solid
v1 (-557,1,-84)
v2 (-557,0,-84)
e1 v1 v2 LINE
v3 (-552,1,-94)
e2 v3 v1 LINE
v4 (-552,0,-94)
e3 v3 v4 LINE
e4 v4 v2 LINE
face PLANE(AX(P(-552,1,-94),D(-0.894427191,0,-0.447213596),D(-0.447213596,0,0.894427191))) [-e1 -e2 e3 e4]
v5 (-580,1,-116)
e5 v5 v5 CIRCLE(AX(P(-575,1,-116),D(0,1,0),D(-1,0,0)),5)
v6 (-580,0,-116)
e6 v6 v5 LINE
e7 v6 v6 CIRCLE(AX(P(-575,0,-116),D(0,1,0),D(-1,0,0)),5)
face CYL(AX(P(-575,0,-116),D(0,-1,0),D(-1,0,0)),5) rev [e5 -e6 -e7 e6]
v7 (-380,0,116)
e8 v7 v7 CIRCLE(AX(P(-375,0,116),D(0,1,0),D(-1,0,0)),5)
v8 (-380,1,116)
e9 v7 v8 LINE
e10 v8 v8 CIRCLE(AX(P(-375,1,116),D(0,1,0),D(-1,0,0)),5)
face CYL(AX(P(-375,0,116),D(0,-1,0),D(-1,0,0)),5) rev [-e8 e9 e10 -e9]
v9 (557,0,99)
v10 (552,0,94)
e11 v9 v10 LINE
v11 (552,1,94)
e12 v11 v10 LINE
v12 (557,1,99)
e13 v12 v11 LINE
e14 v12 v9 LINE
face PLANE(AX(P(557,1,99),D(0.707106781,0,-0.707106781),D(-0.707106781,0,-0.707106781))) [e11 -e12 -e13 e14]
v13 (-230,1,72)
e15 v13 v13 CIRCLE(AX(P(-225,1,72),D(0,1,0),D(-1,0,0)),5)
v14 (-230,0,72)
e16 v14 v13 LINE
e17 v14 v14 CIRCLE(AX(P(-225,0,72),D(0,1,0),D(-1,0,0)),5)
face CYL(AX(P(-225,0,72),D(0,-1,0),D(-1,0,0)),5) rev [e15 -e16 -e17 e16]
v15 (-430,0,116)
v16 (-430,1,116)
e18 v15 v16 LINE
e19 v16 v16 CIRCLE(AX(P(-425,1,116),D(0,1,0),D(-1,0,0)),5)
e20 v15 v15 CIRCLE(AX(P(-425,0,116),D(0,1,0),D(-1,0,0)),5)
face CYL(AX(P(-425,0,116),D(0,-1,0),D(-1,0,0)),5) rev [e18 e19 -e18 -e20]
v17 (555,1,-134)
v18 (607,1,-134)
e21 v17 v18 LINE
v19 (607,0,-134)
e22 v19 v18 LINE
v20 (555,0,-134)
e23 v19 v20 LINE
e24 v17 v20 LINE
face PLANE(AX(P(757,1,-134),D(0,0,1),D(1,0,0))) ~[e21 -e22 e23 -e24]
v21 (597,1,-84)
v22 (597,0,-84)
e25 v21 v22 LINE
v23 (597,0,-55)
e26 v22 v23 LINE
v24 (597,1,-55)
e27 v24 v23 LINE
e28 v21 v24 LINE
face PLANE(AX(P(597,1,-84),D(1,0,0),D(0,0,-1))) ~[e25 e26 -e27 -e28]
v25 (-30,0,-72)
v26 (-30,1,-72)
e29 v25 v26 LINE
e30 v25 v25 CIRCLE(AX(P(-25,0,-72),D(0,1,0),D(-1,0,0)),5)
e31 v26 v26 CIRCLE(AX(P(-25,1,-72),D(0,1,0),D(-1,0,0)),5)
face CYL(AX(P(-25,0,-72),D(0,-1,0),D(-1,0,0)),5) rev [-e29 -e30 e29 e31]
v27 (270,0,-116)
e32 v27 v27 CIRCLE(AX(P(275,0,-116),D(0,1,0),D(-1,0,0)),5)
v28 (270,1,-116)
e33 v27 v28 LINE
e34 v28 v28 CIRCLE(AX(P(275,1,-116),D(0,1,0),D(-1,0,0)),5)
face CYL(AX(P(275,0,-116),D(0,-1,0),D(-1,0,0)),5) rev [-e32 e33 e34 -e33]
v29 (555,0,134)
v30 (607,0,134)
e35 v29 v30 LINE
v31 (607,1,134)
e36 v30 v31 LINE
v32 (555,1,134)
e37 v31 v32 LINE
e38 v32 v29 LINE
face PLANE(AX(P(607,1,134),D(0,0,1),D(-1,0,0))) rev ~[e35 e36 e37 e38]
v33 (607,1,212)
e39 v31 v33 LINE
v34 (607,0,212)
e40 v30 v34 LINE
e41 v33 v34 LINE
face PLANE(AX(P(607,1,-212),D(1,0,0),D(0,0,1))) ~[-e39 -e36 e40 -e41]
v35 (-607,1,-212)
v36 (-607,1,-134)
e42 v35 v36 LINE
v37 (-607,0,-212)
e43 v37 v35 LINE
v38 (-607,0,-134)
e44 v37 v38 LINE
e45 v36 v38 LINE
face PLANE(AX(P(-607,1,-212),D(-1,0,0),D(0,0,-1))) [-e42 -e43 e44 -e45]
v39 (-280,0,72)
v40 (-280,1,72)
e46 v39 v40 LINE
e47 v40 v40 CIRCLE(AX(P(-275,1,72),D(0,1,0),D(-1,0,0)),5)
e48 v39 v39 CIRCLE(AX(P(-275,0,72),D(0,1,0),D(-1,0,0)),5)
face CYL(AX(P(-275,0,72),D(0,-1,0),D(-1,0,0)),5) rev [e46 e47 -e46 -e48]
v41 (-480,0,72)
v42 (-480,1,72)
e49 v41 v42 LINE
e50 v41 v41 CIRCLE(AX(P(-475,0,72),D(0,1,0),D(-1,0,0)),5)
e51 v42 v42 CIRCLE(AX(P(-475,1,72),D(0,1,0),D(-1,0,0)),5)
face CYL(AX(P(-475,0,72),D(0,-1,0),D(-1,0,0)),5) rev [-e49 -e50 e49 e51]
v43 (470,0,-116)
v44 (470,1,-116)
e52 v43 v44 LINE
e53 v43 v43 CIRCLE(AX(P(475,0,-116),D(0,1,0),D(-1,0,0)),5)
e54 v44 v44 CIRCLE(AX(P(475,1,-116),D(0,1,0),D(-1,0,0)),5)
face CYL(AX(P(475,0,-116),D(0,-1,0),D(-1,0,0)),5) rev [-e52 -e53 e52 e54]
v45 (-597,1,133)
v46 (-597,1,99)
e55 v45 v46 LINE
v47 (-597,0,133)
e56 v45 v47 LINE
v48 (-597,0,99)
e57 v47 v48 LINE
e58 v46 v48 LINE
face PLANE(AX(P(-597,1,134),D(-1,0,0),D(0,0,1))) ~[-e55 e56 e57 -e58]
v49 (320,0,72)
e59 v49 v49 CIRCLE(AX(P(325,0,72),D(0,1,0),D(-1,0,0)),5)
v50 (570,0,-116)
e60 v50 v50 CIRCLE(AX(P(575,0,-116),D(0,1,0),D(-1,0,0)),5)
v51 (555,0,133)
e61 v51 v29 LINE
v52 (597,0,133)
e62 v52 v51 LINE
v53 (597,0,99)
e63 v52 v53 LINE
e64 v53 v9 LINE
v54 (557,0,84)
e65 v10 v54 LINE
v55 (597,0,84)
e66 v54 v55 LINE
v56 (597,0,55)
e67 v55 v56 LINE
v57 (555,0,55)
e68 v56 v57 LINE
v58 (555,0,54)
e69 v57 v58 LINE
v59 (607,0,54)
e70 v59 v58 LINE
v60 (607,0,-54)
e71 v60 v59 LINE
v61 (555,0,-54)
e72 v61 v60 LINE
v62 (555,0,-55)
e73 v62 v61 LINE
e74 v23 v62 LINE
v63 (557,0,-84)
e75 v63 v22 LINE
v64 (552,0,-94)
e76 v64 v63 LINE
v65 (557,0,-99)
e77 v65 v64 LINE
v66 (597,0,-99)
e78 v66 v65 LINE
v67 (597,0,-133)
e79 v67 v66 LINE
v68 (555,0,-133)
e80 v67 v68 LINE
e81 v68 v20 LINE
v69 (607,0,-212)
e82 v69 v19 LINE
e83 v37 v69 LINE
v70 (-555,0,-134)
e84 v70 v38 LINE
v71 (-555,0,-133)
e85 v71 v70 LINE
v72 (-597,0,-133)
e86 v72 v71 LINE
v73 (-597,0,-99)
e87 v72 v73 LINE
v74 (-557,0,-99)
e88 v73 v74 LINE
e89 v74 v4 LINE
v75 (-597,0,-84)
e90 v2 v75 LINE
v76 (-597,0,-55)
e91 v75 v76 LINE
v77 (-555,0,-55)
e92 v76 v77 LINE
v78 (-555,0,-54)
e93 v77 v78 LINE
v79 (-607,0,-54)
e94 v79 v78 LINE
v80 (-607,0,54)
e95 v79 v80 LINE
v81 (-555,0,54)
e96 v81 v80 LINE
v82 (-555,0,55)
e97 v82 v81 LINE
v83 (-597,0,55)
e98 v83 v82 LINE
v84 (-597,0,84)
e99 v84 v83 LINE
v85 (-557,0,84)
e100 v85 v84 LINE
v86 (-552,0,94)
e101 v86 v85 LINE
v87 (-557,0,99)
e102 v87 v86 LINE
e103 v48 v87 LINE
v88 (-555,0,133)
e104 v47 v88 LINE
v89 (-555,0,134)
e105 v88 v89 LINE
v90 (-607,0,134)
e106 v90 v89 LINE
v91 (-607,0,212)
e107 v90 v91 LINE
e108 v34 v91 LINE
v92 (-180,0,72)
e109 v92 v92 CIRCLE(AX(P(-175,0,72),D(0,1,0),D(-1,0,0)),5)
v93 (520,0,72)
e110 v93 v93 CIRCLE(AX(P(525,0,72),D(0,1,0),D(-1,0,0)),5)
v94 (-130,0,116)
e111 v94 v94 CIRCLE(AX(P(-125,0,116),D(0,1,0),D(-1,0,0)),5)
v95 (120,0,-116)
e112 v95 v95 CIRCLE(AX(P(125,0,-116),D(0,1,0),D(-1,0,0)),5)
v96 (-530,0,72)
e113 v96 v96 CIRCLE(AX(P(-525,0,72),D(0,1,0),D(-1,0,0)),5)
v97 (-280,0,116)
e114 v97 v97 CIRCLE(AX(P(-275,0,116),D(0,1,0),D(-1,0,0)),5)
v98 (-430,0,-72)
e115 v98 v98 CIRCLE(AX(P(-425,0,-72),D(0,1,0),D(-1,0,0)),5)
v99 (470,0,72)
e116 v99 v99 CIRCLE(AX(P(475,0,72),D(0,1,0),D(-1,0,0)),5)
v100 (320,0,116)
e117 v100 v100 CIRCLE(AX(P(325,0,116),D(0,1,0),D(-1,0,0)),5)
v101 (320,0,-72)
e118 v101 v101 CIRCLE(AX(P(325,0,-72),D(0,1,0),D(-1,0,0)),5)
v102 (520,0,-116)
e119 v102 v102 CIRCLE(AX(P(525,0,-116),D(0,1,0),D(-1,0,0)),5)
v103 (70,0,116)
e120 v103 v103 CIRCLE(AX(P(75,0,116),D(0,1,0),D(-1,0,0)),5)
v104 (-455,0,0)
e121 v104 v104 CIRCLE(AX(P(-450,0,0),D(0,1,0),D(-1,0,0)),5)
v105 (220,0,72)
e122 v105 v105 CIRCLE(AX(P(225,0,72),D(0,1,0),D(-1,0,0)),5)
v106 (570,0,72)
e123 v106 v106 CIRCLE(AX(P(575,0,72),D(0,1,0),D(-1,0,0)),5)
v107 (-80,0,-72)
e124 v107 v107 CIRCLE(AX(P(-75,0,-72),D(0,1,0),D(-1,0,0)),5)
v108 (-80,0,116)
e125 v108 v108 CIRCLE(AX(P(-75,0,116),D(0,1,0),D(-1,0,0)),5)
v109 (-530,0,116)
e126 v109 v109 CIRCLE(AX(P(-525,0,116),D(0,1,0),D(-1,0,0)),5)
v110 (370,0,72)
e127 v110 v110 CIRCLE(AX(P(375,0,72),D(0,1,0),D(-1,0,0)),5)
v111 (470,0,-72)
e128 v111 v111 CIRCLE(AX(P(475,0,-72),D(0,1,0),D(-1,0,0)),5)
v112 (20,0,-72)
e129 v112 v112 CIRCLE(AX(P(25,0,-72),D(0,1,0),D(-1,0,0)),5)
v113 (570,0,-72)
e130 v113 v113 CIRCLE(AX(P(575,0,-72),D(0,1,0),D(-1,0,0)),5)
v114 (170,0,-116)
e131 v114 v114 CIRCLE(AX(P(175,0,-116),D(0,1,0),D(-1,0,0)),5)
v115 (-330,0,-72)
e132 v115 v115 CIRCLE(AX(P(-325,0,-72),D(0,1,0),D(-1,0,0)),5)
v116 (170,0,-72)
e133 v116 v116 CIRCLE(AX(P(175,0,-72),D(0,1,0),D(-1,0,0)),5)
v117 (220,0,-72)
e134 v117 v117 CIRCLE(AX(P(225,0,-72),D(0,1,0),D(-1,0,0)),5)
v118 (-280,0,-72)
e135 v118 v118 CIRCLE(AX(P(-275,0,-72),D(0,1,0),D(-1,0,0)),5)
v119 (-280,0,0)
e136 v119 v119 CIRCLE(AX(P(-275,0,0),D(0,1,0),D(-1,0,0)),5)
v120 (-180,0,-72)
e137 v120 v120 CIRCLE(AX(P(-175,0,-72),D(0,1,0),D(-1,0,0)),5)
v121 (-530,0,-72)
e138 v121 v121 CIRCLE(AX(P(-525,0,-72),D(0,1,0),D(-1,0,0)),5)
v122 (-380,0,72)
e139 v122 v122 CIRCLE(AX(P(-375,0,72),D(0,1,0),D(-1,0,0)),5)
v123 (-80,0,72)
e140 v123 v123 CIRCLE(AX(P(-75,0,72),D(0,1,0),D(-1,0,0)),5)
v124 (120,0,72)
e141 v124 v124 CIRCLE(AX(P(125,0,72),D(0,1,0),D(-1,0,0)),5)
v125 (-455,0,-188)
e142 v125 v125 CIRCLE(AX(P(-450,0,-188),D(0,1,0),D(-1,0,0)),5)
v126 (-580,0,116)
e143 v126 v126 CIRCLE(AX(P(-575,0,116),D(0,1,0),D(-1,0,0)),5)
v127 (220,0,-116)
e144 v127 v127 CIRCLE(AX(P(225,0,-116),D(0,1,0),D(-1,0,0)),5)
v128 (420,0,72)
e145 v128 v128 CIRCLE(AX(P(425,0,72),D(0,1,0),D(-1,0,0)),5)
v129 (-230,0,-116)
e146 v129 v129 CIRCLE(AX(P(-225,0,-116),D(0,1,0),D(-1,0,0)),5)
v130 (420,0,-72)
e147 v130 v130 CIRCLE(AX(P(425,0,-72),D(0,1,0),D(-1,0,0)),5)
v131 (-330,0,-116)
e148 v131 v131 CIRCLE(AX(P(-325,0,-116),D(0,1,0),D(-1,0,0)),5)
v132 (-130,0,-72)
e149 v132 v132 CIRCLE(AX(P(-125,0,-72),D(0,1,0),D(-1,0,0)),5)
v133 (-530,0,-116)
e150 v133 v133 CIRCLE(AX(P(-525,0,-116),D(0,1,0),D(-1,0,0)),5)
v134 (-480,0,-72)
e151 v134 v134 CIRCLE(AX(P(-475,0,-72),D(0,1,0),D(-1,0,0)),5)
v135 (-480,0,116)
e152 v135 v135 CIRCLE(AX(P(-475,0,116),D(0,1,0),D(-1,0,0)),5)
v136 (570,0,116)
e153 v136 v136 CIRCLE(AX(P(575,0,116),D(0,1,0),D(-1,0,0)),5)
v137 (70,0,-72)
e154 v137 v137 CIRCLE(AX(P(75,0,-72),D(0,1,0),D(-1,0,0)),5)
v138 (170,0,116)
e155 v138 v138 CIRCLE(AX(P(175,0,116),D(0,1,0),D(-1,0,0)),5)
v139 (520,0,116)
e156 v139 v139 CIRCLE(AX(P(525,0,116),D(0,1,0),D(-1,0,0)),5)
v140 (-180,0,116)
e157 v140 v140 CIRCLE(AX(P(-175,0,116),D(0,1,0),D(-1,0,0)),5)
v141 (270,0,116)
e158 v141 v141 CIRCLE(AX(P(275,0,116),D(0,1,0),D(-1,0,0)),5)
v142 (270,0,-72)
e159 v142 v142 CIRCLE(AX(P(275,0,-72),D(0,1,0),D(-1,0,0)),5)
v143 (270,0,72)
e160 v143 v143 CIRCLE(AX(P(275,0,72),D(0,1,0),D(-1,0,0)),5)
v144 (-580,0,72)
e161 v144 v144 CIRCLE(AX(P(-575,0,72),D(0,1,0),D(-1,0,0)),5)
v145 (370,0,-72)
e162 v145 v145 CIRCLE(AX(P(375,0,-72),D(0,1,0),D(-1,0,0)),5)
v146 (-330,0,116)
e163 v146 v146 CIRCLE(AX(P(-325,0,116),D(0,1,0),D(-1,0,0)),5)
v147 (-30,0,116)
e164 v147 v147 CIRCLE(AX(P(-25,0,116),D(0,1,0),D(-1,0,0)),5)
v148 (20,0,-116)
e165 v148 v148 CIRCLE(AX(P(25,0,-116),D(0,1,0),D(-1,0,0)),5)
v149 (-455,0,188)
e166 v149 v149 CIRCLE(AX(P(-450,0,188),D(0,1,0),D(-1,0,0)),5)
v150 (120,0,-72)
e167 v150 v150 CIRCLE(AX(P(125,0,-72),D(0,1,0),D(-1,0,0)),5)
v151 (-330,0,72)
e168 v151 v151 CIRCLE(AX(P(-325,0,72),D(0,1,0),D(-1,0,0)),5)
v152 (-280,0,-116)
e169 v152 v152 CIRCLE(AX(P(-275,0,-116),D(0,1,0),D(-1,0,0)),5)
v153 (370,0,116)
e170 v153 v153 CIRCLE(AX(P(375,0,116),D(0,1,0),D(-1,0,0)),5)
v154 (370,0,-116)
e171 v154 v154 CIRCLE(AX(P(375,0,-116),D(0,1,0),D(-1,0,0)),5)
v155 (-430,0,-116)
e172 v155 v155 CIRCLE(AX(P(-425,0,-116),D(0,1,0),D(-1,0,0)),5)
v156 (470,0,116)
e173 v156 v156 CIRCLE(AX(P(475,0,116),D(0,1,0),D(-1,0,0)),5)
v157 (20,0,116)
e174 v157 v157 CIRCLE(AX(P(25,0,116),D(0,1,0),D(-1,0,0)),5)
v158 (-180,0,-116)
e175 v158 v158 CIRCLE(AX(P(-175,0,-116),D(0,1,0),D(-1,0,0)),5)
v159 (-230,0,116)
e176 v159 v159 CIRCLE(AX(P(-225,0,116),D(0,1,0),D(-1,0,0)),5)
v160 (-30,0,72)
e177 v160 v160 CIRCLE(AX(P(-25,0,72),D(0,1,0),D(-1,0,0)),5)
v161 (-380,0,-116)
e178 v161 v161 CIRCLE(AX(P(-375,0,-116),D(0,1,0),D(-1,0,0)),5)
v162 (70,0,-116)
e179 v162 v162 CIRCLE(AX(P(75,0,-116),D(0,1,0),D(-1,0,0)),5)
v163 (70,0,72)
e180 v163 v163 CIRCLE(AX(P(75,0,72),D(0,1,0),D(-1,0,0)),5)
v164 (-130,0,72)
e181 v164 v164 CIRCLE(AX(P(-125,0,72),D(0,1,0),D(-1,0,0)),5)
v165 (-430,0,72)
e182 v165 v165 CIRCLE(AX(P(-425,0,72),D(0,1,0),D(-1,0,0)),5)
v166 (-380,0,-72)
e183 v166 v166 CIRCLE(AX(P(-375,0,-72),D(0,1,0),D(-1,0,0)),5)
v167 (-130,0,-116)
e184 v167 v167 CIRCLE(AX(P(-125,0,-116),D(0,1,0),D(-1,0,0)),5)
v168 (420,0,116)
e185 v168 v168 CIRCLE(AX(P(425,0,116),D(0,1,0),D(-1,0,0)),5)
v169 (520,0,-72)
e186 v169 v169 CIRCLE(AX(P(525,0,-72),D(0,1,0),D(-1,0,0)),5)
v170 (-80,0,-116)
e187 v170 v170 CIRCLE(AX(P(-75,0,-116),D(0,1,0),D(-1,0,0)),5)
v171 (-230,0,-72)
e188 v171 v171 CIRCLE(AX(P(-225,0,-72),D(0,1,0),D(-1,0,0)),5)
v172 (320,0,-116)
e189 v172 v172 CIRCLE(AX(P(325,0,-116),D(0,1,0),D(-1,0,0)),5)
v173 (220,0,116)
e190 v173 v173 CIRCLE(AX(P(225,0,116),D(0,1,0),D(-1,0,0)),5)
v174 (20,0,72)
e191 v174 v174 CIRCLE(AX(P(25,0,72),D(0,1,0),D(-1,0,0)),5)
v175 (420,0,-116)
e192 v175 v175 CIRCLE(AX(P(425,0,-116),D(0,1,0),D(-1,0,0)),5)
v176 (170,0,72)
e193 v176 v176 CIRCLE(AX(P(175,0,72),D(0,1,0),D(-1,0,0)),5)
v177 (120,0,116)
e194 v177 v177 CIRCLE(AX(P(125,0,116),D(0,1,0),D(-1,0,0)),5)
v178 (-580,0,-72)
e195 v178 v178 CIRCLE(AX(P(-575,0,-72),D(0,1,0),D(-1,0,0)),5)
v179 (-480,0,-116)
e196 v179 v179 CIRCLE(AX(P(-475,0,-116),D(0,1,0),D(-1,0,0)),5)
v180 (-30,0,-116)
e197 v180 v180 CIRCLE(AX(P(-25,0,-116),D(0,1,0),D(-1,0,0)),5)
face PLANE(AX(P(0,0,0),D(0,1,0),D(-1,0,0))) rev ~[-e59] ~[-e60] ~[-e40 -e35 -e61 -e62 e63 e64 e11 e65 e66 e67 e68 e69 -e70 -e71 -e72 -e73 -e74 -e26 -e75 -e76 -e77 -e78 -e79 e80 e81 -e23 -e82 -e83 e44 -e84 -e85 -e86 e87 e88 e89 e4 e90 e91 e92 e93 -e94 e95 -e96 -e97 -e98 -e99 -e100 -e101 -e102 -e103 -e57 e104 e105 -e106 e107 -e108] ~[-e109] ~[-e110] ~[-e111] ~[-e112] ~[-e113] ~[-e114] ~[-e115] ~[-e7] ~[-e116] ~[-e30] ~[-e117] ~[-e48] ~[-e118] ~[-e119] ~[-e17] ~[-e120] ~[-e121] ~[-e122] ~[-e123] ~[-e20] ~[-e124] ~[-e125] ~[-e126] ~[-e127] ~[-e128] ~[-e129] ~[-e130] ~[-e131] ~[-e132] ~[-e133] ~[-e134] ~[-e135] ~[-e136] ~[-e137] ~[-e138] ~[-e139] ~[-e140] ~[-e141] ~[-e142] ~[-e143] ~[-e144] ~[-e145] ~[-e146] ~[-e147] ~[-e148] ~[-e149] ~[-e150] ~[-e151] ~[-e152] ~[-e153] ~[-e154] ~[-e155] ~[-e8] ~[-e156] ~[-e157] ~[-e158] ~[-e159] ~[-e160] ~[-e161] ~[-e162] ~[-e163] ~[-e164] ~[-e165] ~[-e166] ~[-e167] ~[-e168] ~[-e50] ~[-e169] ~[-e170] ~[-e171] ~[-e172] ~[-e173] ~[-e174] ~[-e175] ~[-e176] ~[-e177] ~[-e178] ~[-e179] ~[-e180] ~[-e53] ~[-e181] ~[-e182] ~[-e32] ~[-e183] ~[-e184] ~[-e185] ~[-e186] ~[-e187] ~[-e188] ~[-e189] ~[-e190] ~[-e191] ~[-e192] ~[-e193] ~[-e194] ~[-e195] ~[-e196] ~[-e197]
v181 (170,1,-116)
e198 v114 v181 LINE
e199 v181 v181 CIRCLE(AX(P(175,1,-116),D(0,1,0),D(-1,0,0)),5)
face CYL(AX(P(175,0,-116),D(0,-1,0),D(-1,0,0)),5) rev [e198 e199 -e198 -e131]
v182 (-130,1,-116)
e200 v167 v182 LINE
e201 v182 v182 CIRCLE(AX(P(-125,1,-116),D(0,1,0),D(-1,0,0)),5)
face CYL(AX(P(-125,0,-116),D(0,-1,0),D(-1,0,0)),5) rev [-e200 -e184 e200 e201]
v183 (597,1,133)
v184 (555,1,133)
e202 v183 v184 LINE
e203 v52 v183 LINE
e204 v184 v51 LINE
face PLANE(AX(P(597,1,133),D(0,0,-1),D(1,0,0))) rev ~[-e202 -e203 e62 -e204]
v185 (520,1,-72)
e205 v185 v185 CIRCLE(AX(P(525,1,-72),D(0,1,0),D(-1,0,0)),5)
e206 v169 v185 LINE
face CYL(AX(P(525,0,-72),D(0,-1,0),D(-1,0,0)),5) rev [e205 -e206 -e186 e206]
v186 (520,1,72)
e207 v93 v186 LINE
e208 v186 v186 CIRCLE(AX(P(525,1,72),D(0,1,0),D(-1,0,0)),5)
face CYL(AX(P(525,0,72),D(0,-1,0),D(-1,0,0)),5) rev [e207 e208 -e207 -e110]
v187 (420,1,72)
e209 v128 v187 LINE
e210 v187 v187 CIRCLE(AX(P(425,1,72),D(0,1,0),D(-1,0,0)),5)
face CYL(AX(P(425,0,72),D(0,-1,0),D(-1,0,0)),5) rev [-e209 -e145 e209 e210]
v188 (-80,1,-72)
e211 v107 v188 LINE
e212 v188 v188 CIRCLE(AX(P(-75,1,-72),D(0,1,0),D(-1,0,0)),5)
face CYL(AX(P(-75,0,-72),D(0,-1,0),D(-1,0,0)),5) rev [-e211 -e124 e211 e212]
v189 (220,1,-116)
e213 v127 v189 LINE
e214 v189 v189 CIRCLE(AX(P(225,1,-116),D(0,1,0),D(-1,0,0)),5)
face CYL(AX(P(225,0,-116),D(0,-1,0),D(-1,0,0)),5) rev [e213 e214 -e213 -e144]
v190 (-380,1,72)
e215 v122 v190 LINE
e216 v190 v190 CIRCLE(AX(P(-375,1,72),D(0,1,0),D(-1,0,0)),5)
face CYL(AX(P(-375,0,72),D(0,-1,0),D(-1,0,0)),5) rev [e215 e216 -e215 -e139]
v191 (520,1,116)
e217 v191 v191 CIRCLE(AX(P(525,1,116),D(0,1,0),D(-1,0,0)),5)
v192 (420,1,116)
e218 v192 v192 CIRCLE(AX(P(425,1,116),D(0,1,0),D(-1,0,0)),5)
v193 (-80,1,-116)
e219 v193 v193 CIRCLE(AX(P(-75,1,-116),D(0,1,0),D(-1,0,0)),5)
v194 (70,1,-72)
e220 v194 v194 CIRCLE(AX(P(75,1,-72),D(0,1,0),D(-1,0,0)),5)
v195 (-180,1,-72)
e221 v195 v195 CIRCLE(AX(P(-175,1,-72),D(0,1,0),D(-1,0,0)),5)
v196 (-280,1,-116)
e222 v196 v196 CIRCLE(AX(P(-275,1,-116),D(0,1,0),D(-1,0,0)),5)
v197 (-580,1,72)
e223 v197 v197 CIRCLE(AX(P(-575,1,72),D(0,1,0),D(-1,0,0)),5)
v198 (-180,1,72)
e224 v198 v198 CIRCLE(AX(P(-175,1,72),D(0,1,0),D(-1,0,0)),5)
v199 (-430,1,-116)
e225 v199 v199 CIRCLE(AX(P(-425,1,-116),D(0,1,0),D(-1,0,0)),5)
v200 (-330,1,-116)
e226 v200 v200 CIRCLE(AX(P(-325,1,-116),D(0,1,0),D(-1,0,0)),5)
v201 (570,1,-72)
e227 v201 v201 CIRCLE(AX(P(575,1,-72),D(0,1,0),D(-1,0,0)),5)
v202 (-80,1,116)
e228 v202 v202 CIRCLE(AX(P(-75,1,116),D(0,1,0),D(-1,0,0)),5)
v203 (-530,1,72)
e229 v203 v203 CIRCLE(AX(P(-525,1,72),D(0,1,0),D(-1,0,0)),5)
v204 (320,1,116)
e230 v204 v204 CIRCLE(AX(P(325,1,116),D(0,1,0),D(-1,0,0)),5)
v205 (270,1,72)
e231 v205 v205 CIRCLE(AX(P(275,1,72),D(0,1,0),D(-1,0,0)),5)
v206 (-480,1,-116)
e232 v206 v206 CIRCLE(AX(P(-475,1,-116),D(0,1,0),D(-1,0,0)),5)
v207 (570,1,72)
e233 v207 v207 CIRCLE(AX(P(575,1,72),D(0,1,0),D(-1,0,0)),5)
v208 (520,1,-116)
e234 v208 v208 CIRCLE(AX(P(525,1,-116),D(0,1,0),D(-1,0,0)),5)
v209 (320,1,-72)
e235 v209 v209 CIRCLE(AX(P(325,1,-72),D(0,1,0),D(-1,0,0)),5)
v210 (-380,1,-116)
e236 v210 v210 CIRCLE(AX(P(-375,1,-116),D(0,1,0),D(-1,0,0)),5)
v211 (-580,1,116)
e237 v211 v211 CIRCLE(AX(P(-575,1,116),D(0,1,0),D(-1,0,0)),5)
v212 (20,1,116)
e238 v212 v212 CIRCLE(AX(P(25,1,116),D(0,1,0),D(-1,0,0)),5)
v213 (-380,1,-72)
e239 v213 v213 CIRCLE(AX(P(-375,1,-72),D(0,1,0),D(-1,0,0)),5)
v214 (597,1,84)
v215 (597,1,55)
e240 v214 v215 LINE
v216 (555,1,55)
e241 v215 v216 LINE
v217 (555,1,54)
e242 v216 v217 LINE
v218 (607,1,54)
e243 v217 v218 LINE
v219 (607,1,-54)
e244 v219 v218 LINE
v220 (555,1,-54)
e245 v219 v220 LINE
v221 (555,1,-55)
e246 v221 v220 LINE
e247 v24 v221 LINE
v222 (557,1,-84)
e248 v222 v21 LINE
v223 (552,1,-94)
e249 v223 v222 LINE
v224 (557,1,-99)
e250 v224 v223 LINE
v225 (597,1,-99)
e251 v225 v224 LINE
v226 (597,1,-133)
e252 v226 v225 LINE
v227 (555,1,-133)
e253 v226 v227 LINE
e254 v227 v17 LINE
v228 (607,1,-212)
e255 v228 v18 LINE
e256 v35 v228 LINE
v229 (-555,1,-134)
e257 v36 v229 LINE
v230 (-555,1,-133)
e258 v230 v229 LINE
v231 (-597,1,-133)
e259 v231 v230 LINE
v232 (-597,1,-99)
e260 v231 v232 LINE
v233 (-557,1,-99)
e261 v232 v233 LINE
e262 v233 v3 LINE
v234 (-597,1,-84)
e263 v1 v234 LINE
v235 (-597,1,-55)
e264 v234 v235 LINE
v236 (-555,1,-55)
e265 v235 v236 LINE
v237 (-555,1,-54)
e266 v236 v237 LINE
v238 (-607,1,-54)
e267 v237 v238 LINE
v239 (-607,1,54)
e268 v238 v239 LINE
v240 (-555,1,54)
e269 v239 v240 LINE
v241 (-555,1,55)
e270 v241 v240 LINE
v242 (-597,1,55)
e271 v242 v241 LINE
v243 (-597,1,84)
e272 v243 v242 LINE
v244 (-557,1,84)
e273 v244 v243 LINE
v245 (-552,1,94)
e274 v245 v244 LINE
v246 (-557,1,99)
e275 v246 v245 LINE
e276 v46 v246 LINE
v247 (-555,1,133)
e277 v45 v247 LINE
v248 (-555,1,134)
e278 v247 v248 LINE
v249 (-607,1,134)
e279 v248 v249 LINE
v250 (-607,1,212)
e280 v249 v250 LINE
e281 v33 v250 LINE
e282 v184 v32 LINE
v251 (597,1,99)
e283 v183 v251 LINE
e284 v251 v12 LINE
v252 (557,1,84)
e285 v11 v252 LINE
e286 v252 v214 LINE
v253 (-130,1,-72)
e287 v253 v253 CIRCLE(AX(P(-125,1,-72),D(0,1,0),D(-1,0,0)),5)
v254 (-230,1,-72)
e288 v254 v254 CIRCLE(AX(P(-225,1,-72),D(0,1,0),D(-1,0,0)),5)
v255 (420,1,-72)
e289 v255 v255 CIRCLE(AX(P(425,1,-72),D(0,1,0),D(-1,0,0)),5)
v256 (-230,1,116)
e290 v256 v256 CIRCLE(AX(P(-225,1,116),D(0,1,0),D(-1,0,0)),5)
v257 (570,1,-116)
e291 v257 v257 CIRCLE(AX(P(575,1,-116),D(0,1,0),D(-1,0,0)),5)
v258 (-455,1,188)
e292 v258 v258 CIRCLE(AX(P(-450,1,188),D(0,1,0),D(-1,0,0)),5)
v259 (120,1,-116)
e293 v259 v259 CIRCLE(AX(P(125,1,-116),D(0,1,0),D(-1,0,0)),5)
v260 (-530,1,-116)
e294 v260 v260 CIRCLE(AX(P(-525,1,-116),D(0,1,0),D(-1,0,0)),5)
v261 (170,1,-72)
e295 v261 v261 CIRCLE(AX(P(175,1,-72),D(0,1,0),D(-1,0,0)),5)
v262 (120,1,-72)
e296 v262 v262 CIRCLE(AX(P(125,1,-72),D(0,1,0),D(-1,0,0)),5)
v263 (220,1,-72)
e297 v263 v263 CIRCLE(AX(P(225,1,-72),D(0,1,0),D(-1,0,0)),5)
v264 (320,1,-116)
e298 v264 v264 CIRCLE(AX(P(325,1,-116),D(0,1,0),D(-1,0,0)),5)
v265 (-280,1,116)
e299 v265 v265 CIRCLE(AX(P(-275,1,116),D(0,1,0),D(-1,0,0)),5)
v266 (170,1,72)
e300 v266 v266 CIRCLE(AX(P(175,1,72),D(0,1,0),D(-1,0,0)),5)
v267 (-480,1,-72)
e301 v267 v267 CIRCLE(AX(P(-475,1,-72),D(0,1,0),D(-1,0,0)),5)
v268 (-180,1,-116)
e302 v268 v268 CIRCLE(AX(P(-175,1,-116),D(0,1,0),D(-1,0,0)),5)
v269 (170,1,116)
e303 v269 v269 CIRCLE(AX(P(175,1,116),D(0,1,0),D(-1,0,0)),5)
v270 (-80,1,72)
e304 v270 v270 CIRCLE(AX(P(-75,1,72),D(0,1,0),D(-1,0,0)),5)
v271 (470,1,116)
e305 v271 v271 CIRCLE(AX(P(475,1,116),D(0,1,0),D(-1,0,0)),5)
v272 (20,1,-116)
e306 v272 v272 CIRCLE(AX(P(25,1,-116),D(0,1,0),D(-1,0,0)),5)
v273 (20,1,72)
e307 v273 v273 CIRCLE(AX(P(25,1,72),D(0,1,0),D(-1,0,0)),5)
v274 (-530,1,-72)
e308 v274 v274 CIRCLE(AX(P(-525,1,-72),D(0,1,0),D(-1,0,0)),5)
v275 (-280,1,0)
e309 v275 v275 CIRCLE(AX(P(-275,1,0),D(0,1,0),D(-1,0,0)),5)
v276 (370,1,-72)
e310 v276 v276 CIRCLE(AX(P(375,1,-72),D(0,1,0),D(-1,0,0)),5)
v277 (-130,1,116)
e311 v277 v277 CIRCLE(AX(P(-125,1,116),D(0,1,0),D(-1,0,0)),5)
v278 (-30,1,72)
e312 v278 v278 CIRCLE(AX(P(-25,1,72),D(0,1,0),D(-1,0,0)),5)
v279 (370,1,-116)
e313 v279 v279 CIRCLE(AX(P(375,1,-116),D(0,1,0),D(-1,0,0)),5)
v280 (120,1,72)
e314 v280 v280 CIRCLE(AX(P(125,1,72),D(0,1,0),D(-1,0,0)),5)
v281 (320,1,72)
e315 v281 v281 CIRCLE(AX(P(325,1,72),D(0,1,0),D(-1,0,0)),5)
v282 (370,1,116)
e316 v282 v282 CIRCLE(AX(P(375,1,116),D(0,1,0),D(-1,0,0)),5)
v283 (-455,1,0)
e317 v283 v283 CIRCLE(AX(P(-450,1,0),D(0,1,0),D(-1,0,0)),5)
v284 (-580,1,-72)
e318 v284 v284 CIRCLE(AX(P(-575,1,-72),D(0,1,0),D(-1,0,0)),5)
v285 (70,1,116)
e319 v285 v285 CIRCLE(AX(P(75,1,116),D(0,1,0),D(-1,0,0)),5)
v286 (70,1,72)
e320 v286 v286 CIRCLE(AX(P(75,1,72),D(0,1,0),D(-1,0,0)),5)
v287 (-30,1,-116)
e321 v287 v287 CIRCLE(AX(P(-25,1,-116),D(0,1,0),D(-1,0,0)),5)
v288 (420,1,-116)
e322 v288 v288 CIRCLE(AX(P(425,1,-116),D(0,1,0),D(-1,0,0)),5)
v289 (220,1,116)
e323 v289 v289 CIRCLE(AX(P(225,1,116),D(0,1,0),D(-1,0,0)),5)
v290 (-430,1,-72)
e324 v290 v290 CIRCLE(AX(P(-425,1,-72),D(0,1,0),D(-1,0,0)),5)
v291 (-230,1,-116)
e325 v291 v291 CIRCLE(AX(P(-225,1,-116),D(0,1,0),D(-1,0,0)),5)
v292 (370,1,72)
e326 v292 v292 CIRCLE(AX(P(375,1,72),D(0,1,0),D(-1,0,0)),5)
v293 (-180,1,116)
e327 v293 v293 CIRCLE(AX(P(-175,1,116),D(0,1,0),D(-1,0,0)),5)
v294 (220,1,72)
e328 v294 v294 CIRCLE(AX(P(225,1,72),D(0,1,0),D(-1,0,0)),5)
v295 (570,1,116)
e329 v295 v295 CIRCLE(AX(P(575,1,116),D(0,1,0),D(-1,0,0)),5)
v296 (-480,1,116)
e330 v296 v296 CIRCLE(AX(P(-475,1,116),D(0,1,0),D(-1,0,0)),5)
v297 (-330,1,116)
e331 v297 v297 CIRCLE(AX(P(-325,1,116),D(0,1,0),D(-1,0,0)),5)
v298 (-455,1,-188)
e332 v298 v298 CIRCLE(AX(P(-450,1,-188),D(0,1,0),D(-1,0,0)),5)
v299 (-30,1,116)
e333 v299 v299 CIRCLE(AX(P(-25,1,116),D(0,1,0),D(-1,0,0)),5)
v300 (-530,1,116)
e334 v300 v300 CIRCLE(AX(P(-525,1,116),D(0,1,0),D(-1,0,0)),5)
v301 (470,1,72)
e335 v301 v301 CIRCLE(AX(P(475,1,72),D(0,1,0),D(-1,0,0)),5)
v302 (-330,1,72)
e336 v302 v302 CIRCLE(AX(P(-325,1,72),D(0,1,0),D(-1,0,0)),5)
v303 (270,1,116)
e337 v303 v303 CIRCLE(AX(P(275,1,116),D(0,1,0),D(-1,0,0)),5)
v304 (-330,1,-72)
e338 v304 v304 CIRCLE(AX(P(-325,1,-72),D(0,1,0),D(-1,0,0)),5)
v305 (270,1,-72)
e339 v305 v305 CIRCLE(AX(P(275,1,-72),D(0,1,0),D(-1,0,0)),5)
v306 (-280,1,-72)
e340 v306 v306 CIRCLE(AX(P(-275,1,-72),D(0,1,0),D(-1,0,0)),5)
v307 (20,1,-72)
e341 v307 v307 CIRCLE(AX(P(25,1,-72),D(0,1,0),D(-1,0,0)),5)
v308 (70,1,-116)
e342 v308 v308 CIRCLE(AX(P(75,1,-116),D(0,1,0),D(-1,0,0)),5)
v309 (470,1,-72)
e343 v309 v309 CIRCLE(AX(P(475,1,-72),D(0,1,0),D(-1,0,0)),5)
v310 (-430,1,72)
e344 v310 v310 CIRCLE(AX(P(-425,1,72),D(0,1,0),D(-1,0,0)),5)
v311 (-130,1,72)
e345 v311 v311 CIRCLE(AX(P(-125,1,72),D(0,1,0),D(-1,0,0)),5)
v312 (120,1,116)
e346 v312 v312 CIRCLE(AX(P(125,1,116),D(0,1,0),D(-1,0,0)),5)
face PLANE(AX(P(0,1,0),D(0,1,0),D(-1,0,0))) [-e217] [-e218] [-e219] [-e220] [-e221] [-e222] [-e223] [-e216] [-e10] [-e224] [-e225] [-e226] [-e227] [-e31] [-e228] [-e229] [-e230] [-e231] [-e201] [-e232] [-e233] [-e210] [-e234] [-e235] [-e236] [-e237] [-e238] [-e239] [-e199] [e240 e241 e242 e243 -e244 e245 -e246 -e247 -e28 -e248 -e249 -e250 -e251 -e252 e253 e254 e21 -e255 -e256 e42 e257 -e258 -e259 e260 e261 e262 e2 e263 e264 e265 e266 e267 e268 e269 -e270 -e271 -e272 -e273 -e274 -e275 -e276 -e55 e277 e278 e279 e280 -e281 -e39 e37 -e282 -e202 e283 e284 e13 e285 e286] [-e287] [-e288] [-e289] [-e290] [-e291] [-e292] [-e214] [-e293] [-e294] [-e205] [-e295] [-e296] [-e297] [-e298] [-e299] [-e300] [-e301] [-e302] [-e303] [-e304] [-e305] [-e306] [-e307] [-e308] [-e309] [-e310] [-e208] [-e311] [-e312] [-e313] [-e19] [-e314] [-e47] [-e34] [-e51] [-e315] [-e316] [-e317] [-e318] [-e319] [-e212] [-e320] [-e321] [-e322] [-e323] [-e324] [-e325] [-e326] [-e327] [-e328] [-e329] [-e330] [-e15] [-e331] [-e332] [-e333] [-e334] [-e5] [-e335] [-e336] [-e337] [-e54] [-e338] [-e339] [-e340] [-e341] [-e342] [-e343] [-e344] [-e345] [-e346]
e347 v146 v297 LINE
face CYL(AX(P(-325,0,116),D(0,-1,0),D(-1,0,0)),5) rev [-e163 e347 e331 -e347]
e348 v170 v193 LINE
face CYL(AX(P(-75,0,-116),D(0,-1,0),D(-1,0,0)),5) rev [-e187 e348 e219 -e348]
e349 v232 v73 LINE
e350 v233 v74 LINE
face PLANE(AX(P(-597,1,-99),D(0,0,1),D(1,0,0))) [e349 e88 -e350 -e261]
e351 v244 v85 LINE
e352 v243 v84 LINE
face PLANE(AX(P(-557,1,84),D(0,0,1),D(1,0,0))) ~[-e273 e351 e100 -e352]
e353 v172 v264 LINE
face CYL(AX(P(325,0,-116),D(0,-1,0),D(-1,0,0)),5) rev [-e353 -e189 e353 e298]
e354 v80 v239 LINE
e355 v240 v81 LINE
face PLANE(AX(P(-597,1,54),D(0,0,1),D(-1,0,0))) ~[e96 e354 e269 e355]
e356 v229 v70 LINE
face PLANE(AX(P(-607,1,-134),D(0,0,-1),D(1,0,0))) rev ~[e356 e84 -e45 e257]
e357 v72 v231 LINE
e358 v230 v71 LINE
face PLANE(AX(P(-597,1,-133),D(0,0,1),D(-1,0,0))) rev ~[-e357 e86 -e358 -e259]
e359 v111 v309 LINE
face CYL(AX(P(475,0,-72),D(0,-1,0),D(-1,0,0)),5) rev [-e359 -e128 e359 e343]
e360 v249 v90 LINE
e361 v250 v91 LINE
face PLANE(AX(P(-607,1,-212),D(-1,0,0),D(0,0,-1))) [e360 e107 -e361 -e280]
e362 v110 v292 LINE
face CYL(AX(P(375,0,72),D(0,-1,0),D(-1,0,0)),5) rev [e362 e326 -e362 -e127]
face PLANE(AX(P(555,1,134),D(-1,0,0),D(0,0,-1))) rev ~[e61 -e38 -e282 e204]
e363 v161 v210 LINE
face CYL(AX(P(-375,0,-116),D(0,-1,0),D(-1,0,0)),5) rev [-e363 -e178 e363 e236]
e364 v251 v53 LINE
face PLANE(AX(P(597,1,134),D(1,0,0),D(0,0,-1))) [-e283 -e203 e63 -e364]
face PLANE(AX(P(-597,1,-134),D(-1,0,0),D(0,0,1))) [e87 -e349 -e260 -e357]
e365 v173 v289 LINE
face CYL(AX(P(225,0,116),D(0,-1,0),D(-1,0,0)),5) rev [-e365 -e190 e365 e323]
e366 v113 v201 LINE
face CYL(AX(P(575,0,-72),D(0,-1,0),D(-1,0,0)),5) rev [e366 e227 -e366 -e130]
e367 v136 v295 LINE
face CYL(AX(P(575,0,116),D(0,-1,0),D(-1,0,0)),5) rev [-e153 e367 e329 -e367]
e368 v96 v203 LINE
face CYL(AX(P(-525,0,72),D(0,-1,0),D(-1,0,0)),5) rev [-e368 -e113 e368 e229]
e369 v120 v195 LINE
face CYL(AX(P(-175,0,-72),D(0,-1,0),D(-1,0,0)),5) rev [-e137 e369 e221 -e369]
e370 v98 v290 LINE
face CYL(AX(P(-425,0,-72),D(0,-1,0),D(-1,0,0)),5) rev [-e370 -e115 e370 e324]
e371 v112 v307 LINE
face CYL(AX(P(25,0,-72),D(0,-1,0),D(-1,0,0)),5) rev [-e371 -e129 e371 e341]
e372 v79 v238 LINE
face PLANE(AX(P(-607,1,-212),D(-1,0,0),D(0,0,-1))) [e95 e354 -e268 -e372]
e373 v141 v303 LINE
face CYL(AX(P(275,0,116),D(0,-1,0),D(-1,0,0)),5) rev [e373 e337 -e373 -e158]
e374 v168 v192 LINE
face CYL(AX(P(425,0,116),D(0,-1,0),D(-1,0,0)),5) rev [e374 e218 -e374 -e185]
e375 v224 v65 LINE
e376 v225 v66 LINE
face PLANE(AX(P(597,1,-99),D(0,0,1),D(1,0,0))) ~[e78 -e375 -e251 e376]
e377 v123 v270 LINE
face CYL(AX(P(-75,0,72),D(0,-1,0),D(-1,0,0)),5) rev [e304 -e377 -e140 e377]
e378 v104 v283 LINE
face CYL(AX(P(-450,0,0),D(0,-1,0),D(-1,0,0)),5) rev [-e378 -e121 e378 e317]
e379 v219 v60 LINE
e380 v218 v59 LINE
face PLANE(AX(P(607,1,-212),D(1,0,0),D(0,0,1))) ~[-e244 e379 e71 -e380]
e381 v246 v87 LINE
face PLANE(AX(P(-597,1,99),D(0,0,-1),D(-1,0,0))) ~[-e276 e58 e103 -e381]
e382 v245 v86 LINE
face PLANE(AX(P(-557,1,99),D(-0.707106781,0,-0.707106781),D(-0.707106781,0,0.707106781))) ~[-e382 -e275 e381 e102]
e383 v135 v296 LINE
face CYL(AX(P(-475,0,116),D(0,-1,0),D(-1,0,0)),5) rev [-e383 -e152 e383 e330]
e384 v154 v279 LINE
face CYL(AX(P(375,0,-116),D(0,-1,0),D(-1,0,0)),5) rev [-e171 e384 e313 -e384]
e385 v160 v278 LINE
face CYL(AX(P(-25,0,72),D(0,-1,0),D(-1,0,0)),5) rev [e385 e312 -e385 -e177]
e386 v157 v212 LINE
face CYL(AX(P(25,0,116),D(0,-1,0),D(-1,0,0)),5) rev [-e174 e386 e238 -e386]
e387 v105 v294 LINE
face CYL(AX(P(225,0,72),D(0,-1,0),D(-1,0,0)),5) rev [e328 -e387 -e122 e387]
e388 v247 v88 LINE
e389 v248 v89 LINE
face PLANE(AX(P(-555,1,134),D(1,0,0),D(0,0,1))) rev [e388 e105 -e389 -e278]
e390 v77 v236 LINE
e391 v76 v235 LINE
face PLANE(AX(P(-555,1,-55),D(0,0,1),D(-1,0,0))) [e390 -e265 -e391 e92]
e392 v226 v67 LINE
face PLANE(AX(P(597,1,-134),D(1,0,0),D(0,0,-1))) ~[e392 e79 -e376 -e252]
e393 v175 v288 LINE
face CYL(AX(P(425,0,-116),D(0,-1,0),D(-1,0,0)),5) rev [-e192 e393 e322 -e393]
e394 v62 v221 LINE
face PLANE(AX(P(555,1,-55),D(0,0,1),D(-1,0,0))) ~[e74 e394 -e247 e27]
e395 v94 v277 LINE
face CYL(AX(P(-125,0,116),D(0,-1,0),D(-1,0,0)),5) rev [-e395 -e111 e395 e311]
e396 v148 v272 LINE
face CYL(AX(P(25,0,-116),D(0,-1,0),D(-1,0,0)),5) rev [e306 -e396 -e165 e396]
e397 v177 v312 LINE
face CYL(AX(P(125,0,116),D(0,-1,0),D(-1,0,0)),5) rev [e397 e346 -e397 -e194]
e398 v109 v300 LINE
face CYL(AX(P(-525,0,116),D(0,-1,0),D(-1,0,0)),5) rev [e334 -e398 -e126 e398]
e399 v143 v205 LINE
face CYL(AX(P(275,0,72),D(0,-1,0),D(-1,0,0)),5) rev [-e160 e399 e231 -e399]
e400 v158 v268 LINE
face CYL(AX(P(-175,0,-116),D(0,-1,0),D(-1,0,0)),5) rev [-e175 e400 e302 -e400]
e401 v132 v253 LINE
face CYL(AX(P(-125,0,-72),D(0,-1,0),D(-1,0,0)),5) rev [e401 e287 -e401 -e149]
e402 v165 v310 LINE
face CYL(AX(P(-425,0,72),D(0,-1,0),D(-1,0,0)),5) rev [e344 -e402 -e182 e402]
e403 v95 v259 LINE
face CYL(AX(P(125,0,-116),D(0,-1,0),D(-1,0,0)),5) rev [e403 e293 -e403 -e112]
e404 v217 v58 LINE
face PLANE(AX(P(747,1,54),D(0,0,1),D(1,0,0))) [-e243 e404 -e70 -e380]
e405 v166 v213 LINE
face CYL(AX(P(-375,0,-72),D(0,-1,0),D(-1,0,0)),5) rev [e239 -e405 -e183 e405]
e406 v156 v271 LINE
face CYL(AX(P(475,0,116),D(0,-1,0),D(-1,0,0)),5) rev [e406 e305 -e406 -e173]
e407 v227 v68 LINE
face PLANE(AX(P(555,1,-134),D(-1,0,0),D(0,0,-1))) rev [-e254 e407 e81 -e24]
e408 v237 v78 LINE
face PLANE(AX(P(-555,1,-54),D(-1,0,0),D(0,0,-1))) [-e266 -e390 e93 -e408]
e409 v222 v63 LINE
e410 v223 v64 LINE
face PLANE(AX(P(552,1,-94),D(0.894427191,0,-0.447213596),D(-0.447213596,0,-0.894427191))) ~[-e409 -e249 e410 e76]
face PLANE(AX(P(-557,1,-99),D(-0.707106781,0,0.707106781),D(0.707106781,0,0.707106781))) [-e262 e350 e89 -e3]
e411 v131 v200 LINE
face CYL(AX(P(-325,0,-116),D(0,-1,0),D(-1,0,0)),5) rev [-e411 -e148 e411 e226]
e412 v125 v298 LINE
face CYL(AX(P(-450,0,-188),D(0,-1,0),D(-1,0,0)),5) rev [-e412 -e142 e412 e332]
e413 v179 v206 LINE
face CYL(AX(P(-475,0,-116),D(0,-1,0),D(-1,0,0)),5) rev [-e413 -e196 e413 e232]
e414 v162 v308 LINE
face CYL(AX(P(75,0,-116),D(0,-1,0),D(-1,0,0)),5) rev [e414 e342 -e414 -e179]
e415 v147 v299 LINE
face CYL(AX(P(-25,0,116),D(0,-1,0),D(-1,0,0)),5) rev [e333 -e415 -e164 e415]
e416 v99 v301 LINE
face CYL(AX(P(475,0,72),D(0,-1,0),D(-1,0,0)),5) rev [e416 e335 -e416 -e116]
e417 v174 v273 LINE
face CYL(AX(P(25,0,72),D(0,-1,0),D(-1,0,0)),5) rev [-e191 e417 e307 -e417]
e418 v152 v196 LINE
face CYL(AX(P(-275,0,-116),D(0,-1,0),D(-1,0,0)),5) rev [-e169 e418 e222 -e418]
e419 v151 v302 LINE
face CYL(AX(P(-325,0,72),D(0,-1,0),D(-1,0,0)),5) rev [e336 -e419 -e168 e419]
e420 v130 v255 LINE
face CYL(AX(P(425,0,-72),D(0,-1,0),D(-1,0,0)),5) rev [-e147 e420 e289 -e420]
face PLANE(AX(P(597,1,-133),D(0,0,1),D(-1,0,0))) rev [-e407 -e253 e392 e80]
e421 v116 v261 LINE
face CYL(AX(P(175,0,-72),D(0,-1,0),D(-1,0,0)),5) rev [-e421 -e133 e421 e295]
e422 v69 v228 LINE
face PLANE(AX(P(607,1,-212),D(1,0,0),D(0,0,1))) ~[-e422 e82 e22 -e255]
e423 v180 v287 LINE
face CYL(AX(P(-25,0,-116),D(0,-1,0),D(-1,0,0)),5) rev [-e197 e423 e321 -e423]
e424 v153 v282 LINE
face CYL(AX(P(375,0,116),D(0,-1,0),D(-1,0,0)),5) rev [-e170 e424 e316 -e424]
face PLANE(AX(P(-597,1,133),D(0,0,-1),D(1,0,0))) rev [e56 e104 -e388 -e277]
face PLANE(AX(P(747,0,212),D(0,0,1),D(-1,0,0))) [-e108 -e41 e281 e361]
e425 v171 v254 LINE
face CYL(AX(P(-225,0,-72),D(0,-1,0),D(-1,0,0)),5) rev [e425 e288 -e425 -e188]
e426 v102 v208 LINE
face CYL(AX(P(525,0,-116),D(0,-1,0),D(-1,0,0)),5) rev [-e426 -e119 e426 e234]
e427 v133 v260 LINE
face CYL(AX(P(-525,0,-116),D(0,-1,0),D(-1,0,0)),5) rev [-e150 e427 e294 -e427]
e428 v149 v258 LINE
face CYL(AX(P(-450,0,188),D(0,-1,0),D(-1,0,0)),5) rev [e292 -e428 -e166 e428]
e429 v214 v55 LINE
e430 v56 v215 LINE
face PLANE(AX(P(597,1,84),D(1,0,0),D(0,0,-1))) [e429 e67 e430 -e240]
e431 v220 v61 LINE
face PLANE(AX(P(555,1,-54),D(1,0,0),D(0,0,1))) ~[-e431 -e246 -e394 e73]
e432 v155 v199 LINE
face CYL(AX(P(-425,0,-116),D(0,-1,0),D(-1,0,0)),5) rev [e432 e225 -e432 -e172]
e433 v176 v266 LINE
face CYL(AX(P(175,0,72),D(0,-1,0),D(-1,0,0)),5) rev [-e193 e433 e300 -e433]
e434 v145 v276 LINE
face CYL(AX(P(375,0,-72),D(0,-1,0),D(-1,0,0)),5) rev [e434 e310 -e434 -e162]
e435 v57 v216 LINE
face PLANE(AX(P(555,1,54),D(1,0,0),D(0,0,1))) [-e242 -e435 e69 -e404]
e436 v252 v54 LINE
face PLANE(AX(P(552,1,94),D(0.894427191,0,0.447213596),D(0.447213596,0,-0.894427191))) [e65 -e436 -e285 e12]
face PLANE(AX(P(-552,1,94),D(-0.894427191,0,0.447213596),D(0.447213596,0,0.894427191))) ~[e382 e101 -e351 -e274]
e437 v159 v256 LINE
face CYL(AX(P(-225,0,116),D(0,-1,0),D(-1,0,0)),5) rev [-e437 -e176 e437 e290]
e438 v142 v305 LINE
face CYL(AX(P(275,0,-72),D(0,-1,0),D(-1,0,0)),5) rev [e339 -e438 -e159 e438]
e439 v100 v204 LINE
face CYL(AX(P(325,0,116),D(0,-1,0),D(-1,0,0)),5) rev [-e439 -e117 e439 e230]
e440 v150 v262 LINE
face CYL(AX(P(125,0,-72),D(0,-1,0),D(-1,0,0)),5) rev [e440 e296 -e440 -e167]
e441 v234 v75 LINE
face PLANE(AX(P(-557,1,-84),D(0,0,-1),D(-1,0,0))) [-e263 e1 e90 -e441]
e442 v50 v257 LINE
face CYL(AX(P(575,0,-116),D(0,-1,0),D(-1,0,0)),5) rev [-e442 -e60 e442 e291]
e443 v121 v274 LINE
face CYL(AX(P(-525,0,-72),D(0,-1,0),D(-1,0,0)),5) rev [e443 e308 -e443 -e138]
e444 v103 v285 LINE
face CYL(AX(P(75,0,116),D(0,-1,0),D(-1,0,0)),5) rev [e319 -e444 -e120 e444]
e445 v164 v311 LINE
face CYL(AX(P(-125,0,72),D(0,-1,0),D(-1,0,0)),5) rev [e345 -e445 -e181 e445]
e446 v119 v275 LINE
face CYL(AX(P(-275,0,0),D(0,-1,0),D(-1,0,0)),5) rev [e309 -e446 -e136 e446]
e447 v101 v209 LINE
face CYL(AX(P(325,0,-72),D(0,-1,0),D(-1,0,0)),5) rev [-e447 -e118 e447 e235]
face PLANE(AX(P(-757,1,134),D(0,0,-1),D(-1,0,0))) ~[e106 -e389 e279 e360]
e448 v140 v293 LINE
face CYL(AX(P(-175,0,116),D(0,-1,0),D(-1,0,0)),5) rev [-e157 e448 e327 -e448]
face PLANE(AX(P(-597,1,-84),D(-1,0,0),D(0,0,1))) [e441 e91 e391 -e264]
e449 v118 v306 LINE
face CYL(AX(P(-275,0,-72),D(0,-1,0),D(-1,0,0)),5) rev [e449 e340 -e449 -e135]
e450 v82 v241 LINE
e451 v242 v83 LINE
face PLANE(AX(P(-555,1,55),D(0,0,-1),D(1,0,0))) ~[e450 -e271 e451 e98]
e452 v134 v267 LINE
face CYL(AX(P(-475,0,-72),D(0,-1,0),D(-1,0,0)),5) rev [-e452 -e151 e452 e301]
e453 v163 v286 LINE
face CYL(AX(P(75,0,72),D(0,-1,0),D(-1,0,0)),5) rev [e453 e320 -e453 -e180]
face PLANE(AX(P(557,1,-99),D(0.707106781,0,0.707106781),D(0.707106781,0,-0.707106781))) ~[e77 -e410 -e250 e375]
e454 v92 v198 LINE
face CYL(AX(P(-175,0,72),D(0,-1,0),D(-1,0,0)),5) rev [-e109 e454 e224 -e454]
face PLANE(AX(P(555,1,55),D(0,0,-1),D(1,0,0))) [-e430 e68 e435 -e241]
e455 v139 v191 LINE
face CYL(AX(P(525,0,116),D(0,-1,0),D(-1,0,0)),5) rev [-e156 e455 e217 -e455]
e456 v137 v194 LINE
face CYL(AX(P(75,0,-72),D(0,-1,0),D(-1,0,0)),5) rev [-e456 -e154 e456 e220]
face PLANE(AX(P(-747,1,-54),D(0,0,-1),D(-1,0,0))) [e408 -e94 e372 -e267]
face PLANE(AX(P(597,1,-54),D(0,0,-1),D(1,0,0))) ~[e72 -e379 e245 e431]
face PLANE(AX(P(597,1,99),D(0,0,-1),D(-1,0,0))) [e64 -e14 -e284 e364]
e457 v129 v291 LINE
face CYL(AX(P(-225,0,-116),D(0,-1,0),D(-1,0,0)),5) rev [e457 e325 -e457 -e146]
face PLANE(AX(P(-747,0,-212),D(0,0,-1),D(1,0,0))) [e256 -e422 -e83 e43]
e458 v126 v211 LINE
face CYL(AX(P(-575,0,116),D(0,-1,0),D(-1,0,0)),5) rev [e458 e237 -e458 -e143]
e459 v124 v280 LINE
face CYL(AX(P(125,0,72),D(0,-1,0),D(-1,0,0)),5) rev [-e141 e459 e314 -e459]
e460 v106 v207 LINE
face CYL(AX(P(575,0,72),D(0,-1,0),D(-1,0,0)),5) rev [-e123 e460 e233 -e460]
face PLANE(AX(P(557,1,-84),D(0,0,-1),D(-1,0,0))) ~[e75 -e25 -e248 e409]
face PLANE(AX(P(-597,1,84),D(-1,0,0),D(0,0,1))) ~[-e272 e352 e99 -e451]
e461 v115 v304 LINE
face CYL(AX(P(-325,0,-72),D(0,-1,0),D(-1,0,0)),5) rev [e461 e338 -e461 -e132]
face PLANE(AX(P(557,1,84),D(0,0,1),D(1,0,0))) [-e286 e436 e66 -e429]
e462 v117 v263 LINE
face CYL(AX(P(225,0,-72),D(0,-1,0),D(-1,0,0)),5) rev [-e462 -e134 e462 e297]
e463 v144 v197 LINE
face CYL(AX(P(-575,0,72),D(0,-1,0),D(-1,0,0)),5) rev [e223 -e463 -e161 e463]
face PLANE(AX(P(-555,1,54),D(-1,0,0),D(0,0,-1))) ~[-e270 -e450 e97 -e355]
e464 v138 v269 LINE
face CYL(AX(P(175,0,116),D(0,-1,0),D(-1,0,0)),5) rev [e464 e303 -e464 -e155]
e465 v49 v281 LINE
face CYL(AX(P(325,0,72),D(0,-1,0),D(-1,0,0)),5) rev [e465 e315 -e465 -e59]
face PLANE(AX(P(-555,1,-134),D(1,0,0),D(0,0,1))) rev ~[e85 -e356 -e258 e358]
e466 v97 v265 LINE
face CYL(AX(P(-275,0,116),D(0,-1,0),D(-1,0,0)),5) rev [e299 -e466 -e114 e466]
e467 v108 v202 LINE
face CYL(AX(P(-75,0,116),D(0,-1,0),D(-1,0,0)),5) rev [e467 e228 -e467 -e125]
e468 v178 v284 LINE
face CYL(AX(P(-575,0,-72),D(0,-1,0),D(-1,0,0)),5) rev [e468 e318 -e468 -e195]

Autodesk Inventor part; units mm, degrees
ref_plane "YZ Plane" through (0, 0, 0) normal (1, 0, 0) x (0, 1, 0)
ref_plane "XZ Plane" through (0, 0, 0) normal (0, 1, 0) x (-1, 0, 0)
ref_plane "XY Plane" through (0, 0, 0) normal (0, 0, 1) x (1, 0, 0)
sketch "Skin Scheme" plane through (0, 0, 0) normal (0, 1, 0) x (-1, 0, 0)
  line L0 (747, -212) -> (-747, -212)
  line L1 (-747, -212) -> (-747, 212)
  line L2 (-747, 212) -> (747, 212)
  line L3 (747, 212) -> (747, -212)
  circle A0 centre (575, -116) radius 5
  circle A1 centre (575, -72) radius 5
  circle A2 centre (575, 72) radius 5
  circle A3 centre (575, 116) radius 5
  circle A4 centre (525, -116) radius 5
  circle A5 centre (525, -72) radius 5
  circle A6 centre (525, 72) radius 5
  circle A7 centre (525, 116) radius 5
  circle A8 centre (475, -116) radius 5
  circle A9 centre (475, -72) radius 5
  circle A10 centre (475, 72) radius 5
  circle A11 centre (475, 116) radius 5
  circle A12 centre (425, -116) radius 5
  circle A13 centre (425, -72) radius 5
  circle A14 centre (425, 72) radius 5
  circle A15 centre (425, 116) radius 5
  circle A16 centre (375, -116) radius 5
  circle A17 centre (375, -72) radius 5
  circle A18 centre (375, 72) radius 5
  circle A19 centre (375, 116) radius 5
  circle A20 centre (325, -116) radius 5
  circle A21 centre (325, -72) radius 5
  circle A22 centre (325, 72) radius 5
  circle A23 centre (325, 116) radius 5
  circle A24 centre (275, -116) radius 5
  circle A25 centre (275, -72) radius 5
  circle A26 centre (275, 72) radius 5
  circle A27 centre (275, 116) radius 5
  circle A28 centre (225, -116) radius 5
  circle A29 centre (225, -72) radius 5
  circle A30 centre (225, 72) radius 5
  circle A31 centre (225, 116) radius 5
  circle A32 centre (175, -116) radius 5
  circle A33 centre (175, -72) radius 5
  circle A34 centre (175, 72) radius 5
  circle A35 centre (175, 116) radius 5
  circle A36 centre (125, -116) radius 5
  circle A37 centre (125, -72) radius 5
  circle A38 centre (125, 72) radius 5
  circle A39 centre (125, 116) radius 5
  circle A40 centre (75, -116) radius 5
  circle A41 centre (75, -72) radius 5
  circle A42 centre (75, 72) radius 5
  circle A43 centre (75, 116) radius 5
  circle A44 centre (25, -116) radius 5
  circle A45 centre (25, -72) radius 5
  circle A46 centre (25, 72) radius 5
  circle A47 centre (25, 116) radius 5
  circle A48 centre (-25, -116) radius 5
  circle A49 centre (-25, -72) radius 5
  circle A50 centre (-25, 72) radius 5
  circle A51 centre (-25, 116) radius 5
  circle A52 centre (-75, -116) radius 5
  circle A53 centre (-75, -72) radius 5
  circle A54 centre (-75, 72) radius 5
  circle A55 centre (-75, 116) radius 5
  circle A56 centre (-125, -116) radius 5
  circle A57 centre (-125, -72) radius 5
  circle A58 centre (-125, 72) radius 5
  circle A59 centre (-125, 116) radius 5
  circle A60 centre (-175, -116) radius 5
  circle A61 centre (-175, -72) radius 5
  circle A62 centre (-175, 72) radius 5
  circle A63 centre (-175, 116) radius 5
  circle A64 centre (-225, -116) radius 5
  circle A65 centre (-225, -72) radius 5
  circle A66 centre (-225, 72) radius 5
  circle A67 centre (-225, 116) radius 5
  circle A68 centre (-275, -116) radius 5
  circle A69 centre (-275, -72) radius 5
  circle A70 centre (-275, 72) radius 5
  circle A71 centre (-275, 116) radius 5
  circle A72 centre (-325, -116) radius 5
  circle A73 centre (-325, -72) radius 5
  circle A74 centre (-325, 72) radius 5
  circle A75 centre (-325, 116) radius 5
  circle A76 centre (-375, -116) radius 5
  circle A77 centre (-375, -72) radius 5
  circle A78 centre (-375, 72) radius 5
  circle A79 centre (-375, 116) radius 5
  circle A80 centre (450, 0) radius 5
  circle A81 centre (450, -188) radius 5
  circle A82 centre (450, 188) radius 5
  circle A83 centre (275, 0) radius 5
  circle A84 centre (-425, -116) radius 5
  circle A85 centre (-425, -72) radius 5
  circle A86 centre (-425, 72) radius 5
  circle A87 centre (-425, 116) radius 5
  circle A88 centre (-475, -116) radius 5
  circle A89 centre (-475, -72) radius 5
  circle A90 centre (-475, 72) radius 5
  circle A91 centre (-475, 116) radius 5
  circle A92 centre (-525, -116) radius 5
  circle A93 centre (-525, -72) radius 5
  circle A94 centre (-525, 72) radius 5
  circle A95 centre (-525, 116) radius 5
  circle A96 centre (-575, -116) radius 5
  circle A97 centre (-575, -72) radius 5
  circle A98 centre (-575, 72) radius 5
  circle A99 centre (-575, 116) radius 5
  point P0 (0, 0)
  dimension "d0" = 1494
  dimension "d1" = 747
  dimension "d2" = 424
  dimension "d3" = 212
  dimension "d4" = 10
  dimension "d5" = 172
  dimension "d6" = 96
  dimension "d9" = 44
  dimension "d16" = 188
  dimension "d19" = 50
  dimension "d61" = 25
  dimension "d62" = 72
  dimension "d63" = 72
  dimension "d64" = 25
  dimension "d65" = 72
  dimension "d66" = 25
  dimension "d67" = 10
  dimension "d68" = 10
  dimension "d69" = 10
  dimension "d70" = 300
  dimension "d71" = 0
  dimension "d72" = 10
extrude "Skin Body" add sketch "Skin Scheme" along normal blind 1
sketch "Feature Cut Outline" plane through (0, 1, 0) normal (0, 1, 0) x (1, 0, 0)
  circle A0 centre (-575, 116) radius 5 projected
  circle A1 centre (-575, 72) radius 5 projected
  line L0 (-757, 134) -> (-597, 134)
  line L1 (-597, 134) -> (-597, 99)
  line L2 (-597, 99) -> (-557, 99)
  line L3 (-557, 99) -> (-552, 94)
  line L4 (-552, 94) -> (-557, 84)
  line L5 (-557, 84) -> (-597, 84)
  line L6 (-597, 84) -> (-597, 54)
  line L7 (-597, 54) -> (-757, 54)
  line L8 (-757, 54) -> (-757, 134)
  line L9 (-747, 212) -> (-747, -212) projected
  point P0 (0, 0)
  dimension "d33" = 18
  dimension "d34" = 22
  dimension "d35" = 18
  dimension "d36" = 5
  dimension "d37" = 10
  dimension "d38" = 5
  dimension "d39" = 5
  dimension "d40" = 10
  dimension "d41" = 45
  dimension "d42" = 22
extrude "Feature Cut" cut sketch "Feature Cut Outline" along normal through all both and the other way through all contours L0 L9 L7 L8 | L0 L1 L2 L3 L4 L5 L6 L7 L9
mirror "Feature Cut Side Mirror" about plane through (0, 0, 0) normal (0, 0, 1) of "Feature Cut"
mirror "Feature Cut Mirror" about plane through (0, 0, 0) normal (1, 0, 0) of "Feature Cut", "Feature Cut Side Mirror"
sketch "End Cut Outline" plane through (0, 1, 0) normal (0, 1, 0) x (1, 0, 0)
  line L0 (-607, 222) -> (-757, 222)
  line L1 (-757, 222) -> (-757, -222)
  line L2 (-757, -222) -> (-607, -222)
  line L3 (-607, -222) -> (-607, 222)
  line L4 (-747, 212) -> (-747, 134) projected
  line L5 (747, 212) -> (-747, 212) projected
  line L6 (-747, -212) -> (747, -212) projected
  point P0 (0, 0)
  dimension "d45" = 10
  dimension "d46" = 10
  dimension "d47" = 10
  dimension "d48" = 140
extrude "End Cut" cut sketch "End Cut Outline" along normal through all both and the other way through all
mirror "End Cut Mirror" about plane through (0, 0, 0) normal (1, 0, 0) of "End Cut"
sketch "Slot Cut Outline" plane through (0, 1, 0) normal (0, 1, 0) x (1, 0, 0)
  line L0 (-555, 55) -> (-607, 55)
  line L1 (-607, 55) -> (-607, 54)
  line L2 (-607, 54) -> (-555, 54)
  line L3 (-555, 54) -> (-555, 55)
  line L4 (-597, 54) -> (-607, 54) projected
  line L5 (-607, 54) -> (-607, -54) projected
  line L6 (-597, 84) -> (-597, 54) projected
  line L7 (-607, 134) -> (-555, 134)
  line L8 (-555, 134) -> (-555, 133)
  line L9 (-555, 133) -> (-607, 133)
  line L10 (-607, 133) -> (-607, 134)
  line L11 (-607, 134) -> (-597, 134) projected
  line L12 (-597, 134) -> (-597, 99) projected
  line L13 (-607, 212) -> (-607, 134) projected
  point P0 (0, 0)
  dimension "d51" = 0
  dimension "d52" = 1
  dimension "d53" = 0
  dimension "d54" = 42
  dimension "d55" = 0
  dimension "d56" = 1
  dimension "d57" = 42
  dimension "d58" = 0
extrude "Slot Cut" cut sketch "Slot Cut Outline" along normal through all both and the other way through all
mirror "Slot Cut Side Mirror" about plane through (0, 0, 0) normal (0, 0, 1) of "Slot Cut"
mirror "Slot Cut Mirror" about plane through (0, 0, 0) normal (1, 0, 0) of "Slot Cut", "Slot Cut Side Mirror"
equation "\"d1\" = 0.5 * d0"
equation "\"d3\" = 0.5 * d2"
equation "\"d61\" = 0.5 * d19"
equation "\"d62\" = -0.5 * d9 + 0.5 * d16"
equation "\"d63\" = d62"
equation "\"d64\" = d61"
equation "\"d65\" = d62"
equation "\"d66\" = d61"
equation "\"d67\" = d4"
equation "\"d68\" = d4"
equation "\"d69\" = d4"
equation "\"d70\" = 6 * d19"
equation "\"d56\" = d52"
equation "\"d57\" = d54"
properties part number "Skin NPS 8" material "Rubber, Silicone"
